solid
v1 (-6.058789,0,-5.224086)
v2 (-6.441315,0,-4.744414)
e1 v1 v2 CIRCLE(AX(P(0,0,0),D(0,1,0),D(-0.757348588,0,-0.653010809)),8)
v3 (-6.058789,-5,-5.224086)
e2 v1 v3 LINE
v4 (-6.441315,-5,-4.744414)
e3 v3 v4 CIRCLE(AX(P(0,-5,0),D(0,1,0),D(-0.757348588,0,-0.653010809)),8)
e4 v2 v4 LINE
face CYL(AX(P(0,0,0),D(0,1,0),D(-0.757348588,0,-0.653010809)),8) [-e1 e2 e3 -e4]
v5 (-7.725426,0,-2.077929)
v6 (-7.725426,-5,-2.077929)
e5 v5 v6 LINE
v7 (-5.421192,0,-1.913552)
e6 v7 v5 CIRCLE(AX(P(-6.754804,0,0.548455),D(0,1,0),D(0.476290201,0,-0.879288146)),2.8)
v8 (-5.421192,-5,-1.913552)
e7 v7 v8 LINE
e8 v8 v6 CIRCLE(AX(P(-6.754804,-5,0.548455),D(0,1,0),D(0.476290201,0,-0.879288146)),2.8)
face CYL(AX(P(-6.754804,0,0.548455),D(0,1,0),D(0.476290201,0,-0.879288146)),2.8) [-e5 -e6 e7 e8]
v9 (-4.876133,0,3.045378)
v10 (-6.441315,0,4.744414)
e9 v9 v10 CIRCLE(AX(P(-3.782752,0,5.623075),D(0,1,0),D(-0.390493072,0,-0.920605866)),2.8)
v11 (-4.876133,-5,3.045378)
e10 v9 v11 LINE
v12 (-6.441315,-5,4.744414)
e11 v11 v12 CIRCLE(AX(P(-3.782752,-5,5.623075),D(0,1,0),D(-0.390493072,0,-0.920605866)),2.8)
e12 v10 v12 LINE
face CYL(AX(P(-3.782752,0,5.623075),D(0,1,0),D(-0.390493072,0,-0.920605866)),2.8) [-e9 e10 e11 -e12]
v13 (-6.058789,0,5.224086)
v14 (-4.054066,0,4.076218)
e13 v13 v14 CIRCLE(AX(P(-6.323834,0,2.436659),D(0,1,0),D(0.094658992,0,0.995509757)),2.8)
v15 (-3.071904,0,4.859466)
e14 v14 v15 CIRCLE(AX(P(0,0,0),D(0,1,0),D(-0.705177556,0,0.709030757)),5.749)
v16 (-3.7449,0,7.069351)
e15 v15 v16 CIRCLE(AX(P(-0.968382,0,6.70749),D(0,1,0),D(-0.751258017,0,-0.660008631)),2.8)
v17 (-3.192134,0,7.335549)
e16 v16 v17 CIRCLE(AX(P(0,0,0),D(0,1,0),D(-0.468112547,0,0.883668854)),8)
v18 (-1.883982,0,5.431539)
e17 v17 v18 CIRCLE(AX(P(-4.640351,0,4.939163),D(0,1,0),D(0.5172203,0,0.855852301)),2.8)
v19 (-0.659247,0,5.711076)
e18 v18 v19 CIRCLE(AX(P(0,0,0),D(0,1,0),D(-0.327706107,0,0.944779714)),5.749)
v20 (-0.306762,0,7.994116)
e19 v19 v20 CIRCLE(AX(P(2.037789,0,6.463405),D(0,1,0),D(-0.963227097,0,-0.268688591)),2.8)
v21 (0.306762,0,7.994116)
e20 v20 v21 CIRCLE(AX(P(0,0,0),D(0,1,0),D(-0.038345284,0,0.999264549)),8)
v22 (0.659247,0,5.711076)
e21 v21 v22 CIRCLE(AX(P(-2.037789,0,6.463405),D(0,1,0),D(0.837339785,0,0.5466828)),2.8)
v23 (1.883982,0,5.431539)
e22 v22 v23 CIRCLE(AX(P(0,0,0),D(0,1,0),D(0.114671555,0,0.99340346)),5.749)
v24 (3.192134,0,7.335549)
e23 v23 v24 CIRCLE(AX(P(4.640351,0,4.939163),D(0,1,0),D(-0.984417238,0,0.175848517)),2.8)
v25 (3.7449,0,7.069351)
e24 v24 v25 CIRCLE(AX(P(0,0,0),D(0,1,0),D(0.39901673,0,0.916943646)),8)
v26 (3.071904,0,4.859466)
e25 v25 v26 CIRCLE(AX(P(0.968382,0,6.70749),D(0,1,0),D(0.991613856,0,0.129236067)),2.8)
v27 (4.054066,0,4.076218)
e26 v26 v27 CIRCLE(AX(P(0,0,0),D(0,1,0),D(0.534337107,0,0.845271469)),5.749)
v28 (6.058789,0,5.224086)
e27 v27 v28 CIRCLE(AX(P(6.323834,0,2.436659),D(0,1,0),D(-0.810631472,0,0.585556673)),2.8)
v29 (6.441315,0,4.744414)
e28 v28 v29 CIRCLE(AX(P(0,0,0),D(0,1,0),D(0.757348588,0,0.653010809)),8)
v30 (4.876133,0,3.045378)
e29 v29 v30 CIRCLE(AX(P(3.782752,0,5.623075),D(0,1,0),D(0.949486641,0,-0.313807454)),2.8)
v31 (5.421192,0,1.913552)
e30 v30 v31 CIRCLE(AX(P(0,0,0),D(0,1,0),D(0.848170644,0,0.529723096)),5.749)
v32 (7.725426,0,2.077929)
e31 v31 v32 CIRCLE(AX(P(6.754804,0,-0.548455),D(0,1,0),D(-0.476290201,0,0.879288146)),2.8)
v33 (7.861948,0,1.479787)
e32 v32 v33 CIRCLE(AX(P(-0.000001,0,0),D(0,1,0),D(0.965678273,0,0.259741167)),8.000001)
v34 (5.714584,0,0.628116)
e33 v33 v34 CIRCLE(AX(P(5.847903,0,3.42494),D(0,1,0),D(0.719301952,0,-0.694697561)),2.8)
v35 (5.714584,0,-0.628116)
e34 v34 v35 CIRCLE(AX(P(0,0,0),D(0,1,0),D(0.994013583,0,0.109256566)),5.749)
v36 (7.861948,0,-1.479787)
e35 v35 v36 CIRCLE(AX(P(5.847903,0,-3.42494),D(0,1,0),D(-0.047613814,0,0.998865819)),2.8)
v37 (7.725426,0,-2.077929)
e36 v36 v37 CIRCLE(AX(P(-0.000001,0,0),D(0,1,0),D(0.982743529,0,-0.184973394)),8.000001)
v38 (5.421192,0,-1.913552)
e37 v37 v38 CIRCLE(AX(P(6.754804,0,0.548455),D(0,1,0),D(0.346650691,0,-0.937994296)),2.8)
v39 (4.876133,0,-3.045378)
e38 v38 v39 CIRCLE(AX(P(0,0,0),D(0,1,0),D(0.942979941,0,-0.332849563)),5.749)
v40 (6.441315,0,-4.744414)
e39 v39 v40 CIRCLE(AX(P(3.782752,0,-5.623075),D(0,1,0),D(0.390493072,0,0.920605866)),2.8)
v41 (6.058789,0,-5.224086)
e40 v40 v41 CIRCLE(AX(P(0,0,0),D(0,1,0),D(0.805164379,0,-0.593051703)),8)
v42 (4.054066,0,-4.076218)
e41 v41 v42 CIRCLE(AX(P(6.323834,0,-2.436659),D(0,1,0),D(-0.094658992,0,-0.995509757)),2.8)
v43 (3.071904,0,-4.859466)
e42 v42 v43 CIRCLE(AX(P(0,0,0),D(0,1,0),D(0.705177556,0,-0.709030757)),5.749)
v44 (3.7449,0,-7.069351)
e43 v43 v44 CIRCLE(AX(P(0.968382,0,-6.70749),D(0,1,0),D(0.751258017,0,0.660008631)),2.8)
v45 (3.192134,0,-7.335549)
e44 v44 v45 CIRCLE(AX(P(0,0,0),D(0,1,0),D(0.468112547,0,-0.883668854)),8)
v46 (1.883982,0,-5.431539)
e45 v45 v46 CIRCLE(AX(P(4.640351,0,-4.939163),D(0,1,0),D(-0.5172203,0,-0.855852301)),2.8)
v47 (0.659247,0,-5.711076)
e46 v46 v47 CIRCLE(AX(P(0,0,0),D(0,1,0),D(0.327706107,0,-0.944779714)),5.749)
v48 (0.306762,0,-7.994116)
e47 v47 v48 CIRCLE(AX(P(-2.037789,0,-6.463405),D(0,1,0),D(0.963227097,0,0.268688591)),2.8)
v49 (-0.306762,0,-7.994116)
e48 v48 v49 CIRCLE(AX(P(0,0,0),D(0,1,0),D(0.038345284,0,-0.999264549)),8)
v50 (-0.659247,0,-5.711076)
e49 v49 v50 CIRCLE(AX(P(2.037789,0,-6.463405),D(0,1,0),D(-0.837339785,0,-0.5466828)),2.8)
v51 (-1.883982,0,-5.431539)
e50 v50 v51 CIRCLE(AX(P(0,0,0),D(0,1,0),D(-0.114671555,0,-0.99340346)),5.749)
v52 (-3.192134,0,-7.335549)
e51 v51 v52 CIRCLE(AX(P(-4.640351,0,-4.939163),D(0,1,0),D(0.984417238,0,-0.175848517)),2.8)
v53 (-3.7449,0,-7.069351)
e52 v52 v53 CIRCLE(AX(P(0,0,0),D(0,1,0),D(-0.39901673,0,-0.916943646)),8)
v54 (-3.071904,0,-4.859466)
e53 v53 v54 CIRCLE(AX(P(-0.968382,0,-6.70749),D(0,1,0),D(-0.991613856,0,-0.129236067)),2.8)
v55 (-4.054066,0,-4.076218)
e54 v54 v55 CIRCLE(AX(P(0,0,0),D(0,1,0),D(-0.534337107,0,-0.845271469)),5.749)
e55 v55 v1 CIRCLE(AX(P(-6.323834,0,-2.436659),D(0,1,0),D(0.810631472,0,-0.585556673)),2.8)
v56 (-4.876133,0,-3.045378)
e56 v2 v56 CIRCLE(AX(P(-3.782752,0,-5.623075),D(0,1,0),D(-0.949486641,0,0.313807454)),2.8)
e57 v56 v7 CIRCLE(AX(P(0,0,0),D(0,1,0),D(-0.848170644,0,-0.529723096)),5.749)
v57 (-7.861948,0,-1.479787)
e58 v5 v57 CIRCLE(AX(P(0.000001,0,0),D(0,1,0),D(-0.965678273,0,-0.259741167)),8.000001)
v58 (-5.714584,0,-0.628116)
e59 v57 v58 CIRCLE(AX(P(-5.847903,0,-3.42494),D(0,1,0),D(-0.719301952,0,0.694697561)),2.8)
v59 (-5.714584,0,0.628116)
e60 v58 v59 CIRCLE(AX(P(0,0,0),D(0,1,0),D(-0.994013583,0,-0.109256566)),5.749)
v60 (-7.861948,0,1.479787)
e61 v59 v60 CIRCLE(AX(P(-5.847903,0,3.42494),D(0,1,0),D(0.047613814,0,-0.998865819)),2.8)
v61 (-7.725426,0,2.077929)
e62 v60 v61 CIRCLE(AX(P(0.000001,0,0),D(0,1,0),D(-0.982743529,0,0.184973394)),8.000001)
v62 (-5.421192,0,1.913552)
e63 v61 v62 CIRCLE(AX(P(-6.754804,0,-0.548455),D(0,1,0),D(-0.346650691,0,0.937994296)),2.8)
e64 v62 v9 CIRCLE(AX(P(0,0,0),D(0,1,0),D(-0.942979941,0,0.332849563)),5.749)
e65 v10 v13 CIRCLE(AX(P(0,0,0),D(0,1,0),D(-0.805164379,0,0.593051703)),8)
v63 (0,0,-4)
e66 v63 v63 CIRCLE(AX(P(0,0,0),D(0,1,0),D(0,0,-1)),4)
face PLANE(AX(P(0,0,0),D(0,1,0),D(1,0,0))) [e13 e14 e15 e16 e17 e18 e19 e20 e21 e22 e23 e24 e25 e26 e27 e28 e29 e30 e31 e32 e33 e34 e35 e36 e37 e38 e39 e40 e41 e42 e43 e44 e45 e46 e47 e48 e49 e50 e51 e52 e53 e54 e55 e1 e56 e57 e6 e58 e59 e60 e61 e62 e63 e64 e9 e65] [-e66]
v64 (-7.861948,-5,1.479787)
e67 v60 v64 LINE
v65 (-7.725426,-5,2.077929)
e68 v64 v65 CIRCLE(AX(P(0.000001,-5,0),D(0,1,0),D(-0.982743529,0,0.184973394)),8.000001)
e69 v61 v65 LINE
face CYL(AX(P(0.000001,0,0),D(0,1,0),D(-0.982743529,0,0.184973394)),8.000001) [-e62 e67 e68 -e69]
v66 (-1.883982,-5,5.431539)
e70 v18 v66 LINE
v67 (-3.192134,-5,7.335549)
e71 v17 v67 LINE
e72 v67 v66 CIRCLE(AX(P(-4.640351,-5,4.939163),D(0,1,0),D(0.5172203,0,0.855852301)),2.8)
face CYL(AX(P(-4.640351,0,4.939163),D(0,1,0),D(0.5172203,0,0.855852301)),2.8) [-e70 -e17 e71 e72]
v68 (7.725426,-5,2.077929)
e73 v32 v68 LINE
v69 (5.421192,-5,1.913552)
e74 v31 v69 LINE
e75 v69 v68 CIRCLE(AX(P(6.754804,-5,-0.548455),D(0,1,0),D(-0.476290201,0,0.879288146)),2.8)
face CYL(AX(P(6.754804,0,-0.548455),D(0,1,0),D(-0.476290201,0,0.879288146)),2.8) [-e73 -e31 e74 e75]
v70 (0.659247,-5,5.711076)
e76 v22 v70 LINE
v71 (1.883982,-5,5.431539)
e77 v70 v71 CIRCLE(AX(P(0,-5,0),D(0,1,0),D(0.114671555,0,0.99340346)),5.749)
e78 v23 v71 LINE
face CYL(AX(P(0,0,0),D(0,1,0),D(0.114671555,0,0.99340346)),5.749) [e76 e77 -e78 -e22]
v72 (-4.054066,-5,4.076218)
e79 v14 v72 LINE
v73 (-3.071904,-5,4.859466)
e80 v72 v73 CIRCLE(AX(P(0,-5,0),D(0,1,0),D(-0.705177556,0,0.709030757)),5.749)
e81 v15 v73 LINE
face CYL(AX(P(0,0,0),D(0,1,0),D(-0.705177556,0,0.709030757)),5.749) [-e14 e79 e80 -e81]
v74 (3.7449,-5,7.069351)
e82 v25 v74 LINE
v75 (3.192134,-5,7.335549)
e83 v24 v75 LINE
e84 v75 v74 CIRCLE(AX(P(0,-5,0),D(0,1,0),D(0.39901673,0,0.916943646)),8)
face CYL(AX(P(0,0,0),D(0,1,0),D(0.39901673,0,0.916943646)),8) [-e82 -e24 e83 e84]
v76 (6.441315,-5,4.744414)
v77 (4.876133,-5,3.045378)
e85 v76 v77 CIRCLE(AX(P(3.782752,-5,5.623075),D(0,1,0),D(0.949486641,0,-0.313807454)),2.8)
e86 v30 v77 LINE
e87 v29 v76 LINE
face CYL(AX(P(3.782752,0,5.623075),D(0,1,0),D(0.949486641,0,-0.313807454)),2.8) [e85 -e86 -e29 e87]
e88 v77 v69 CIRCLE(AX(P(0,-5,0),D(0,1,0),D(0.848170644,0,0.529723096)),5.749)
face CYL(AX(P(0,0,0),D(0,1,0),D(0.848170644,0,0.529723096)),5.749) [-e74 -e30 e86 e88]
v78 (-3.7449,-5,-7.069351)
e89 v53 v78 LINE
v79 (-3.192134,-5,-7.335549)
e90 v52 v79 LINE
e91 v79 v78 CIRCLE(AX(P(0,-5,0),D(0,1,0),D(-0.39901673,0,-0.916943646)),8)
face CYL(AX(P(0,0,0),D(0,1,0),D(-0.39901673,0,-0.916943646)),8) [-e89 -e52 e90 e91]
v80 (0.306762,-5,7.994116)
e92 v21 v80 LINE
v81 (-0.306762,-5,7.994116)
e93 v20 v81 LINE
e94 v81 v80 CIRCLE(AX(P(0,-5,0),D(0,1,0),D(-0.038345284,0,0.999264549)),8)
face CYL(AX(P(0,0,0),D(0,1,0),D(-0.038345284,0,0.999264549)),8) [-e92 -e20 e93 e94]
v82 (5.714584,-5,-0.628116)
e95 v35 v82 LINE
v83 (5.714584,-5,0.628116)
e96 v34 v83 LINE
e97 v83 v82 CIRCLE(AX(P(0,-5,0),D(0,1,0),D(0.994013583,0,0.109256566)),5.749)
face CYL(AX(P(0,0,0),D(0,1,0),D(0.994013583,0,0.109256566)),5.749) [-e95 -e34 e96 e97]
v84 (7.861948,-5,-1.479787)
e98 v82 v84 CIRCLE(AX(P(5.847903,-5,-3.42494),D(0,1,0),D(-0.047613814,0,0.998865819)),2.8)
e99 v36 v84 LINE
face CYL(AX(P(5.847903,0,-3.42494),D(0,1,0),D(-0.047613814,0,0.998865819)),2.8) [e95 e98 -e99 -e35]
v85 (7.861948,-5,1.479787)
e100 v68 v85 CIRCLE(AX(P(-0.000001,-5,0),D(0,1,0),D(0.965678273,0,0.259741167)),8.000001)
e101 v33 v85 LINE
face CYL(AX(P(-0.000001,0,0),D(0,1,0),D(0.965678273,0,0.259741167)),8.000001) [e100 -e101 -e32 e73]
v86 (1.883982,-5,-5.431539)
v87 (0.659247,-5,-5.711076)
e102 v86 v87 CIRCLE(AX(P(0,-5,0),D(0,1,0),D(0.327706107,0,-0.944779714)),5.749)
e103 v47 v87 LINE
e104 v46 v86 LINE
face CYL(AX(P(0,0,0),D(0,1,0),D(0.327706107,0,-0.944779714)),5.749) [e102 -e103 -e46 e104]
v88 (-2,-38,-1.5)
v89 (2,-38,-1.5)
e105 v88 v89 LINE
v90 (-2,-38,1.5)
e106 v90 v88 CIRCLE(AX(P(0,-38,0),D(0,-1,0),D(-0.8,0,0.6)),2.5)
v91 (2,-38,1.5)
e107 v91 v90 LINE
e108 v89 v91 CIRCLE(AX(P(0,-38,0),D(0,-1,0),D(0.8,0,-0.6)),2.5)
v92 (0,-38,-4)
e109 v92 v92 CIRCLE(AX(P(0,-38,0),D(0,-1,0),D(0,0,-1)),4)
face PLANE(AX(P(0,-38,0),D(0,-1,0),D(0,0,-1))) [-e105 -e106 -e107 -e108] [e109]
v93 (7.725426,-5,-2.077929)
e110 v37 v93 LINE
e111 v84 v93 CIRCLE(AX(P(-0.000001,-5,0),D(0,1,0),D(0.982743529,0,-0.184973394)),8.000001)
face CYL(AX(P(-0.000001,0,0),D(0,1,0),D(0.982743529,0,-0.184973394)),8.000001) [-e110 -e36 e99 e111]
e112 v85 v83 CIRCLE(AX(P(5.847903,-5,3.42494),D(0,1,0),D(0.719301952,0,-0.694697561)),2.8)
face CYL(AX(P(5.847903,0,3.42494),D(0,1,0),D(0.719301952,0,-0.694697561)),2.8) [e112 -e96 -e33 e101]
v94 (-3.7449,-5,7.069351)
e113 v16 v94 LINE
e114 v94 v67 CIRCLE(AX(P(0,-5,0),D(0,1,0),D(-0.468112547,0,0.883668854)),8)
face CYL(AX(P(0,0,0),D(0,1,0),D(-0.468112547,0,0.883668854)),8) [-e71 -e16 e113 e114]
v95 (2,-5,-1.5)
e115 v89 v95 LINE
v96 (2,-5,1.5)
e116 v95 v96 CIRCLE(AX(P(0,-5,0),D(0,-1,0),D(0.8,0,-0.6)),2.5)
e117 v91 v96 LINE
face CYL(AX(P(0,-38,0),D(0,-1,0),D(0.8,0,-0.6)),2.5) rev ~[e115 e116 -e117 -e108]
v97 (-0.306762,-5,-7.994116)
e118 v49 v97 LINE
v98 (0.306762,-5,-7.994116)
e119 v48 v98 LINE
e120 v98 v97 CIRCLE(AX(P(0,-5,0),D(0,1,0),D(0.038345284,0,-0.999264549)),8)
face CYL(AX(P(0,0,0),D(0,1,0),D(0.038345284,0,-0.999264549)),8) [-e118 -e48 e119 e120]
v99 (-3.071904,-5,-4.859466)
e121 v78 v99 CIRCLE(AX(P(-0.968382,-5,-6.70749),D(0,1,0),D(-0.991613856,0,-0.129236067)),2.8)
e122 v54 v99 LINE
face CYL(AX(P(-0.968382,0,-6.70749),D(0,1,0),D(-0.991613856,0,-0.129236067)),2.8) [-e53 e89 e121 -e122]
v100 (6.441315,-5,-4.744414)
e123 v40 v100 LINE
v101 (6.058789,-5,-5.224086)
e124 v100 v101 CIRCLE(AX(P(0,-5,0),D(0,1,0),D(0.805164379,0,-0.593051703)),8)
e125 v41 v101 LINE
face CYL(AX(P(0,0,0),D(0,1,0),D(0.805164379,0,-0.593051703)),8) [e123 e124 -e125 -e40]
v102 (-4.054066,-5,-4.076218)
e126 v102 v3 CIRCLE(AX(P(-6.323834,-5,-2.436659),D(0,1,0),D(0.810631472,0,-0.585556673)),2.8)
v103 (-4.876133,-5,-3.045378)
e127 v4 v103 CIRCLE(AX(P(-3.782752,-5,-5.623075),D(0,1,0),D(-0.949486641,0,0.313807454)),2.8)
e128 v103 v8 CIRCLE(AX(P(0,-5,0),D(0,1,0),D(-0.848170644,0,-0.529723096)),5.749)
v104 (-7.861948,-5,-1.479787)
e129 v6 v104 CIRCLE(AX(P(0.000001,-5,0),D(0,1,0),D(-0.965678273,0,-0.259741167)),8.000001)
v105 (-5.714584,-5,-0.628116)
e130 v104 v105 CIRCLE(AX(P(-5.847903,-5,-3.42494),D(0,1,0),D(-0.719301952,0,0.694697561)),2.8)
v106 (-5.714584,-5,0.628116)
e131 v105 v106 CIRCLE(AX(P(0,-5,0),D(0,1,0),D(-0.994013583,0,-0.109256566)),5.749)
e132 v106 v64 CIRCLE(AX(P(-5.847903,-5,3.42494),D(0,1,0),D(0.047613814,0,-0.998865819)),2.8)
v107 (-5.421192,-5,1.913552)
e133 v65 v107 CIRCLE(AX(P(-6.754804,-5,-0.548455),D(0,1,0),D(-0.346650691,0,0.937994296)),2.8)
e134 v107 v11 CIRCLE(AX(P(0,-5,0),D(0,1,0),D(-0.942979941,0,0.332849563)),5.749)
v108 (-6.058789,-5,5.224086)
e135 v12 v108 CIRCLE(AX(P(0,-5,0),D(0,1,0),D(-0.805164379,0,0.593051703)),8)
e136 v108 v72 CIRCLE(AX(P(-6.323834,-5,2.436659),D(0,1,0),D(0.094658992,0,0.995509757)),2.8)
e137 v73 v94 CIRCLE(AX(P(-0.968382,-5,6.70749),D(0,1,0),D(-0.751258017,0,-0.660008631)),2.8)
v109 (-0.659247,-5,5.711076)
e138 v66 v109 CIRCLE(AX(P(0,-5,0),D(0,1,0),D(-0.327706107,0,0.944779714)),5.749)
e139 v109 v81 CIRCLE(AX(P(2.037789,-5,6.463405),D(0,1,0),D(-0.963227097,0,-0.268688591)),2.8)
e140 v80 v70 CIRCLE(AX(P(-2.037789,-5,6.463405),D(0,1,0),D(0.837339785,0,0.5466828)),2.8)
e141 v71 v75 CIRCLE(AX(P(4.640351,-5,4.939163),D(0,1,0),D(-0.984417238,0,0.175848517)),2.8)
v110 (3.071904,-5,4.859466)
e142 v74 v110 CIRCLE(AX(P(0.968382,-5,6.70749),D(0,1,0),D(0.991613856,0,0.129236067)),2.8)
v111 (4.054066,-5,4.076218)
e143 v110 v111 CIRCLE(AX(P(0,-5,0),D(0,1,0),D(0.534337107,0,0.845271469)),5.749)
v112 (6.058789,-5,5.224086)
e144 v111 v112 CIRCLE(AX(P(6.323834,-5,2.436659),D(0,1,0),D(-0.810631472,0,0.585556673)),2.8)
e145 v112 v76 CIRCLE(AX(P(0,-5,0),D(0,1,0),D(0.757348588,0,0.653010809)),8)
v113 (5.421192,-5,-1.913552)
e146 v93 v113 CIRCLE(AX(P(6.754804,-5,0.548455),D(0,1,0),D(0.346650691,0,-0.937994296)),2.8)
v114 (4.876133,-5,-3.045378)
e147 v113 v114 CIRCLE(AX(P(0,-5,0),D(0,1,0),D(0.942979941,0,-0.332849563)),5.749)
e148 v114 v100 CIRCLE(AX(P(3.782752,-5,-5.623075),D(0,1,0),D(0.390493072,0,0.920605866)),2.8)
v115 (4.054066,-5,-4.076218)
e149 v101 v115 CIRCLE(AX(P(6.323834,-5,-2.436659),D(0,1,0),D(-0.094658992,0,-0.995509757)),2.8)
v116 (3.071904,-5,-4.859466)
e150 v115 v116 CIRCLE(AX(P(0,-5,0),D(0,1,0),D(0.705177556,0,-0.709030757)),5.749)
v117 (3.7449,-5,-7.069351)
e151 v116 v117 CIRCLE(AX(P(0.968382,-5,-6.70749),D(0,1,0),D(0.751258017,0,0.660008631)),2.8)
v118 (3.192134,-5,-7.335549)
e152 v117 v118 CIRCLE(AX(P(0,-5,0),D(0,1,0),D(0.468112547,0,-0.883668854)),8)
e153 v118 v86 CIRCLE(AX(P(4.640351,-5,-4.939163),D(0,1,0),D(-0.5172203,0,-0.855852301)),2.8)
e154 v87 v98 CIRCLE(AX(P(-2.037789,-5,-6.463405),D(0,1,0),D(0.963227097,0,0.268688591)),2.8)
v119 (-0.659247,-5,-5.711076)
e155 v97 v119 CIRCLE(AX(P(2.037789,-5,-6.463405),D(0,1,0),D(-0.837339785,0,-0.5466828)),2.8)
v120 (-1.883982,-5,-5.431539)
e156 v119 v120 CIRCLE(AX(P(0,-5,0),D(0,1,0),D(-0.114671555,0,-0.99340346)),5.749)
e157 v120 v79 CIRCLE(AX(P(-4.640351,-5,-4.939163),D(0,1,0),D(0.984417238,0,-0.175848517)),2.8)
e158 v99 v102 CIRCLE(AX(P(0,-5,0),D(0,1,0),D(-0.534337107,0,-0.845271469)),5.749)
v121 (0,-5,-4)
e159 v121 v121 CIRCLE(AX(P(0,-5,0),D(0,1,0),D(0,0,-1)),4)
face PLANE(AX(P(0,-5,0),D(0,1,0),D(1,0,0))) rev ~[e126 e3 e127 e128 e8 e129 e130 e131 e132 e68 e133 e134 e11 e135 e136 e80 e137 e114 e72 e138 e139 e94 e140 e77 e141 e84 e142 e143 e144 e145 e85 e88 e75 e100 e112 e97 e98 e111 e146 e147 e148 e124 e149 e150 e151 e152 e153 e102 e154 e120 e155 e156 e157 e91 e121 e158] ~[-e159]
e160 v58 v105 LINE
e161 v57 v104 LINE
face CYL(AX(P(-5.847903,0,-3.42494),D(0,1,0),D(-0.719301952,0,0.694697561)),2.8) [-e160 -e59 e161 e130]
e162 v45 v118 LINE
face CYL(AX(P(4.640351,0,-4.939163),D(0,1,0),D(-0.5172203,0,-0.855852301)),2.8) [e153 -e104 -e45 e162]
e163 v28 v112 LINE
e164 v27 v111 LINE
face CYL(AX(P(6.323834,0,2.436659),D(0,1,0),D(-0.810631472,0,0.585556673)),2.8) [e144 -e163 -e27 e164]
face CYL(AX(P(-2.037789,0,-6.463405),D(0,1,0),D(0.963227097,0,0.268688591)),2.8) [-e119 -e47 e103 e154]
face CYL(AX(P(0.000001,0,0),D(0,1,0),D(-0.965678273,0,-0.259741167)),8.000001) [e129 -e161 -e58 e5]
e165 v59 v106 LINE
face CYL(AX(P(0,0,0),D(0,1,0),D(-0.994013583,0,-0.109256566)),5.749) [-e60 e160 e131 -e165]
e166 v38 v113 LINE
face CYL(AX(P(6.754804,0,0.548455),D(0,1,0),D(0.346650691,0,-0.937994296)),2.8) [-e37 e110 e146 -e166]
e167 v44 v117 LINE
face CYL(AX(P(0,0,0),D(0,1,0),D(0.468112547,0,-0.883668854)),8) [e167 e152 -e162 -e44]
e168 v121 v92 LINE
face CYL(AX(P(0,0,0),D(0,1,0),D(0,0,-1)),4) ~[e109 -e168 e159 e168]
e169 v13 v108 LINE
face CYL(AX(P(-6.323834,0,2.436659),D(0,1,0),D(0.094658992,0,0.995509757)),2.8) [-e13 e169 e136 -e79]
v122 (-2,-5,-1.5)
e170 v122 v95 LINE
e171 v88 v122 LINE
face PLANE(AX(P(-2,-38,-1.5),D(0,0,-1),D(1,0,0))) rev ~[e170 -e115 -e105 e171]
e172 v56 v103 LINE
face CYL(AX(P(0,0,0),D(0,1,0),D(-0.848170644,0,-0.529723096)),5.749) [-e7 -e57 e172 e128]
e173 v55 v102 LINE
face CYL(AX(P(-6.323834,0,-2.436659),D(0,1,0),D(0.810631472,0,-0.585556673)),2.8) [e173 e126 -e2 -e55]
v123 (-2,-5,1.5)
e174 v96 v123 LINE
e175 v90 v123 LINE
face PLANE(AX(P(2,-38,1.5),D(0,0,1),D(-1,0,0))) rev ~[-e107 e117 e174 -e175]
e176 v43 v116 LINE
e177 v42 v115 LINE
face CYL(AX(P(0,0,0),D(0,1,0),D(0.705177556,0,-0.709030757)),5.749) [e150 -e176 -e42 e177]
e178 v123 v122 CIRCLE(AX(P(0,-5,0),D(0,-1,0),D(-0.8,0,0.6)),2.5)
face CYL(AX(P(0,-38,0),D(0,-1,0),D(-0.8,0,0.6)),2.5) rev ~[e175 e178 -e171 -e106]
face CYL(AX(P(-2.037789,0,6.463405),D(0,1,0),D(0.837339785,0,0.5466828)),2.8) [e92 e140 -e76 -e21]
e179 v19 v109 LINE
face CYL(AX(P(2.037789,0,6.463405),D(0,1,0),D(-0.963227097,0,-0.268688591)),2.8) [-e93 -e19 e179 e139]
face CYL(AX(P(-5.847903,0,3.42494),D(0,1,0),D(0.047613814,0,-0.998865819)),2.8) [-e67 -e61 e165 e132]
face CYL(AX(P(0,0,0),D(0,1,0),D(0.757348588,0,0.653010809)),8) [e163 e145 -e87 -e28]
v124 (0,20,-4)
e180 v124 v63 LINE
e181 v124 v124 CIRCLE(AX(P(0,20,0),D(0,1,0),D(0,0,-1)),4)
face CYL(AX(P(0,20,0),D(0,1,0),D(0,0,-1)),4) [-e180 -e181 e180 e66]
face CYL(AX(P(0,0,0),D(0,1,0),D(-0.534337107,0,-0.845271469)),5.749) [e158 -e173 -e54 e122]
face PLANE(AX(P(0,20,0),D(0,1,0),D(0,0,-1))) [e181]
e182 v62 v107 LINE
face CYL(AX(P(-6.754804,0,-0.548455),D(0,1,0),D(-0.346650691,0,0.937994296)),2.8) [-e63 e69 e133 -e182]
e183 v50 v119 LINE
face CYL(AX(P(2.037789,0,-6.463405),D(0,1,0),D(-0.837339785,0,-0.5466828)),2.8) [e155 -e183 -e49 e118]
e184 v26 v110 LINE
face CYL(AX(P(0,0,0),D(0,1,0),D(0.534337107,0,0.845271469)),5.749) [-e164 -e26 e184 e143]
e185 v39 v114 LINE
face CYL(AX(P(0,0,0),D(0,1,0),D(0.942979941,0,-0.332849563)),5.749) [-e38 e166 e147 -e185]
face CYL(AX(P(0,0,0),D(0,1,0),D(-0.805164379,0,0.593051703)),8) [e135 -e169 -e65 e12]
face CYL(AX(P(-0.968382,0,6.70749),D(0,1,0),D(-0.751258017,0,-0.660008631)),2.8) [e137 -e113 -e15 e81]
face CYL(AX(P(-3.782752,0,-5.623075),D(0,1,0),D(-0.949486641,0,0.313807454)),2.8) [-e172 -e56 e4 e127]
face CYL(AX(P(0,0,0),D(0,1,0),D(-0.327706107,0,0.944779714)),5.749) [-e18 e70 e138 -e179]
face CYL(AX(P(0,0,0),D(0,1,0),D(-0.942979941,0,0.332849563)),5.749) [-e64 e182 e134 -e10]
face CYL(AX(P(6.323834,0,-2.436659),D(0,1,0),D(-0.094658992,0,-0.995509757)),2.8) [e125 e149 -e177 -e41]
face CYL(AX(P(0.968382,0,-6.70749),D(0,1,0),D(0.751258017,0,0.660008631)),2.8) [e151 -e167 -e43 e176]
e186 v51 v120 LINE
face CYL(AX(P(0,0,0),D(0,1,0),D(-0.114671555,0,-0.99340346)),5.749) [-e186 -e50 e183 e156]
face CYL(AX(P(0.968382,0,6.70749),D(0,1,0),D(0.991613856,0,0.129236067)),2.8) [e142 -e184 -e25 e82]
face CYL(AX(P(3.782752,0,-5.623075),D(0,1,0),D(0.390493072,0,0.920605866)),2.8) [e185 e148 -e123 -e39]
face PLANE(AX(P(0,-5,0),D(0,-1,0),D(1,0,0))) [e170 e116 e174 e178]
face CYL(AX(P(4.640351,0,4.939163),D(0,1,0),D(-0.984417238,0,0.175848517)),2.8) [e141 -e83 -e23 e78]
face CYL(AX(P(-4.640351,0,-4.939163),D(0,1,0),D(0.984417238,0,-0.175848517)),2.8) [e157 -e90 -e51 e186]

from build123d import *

# Parameters (mm, degrees)
SKETCH1_R                = 0.4
BOSS_EXTRUDE1_DEPTH      = 5
BOSS_EXTRUDE2_DEPTH      = 33
BOSS_EXTRUDE2_DEPTH_BACK = 5
SKETCH2_R                = 4
BOSS_EXTRUDE3_START      = 20
SKETCH3_R                = 4
BOSS_EXTRUDE3_DEPTH      = 20
CUT_EXTRUDE1_DEPTH       = 33


with BuildPart() as part:
    # Sketch1 → Boss-Extrude1 (new body)
    with BuildSketch(Plane(origin=(0, 0, 0), x_dir=(1, 0, 0), z_dir=(0, 1, 0))):
        with BuildLine():
            ThreePointArc((3.744900382, -7.069350828), (3.64692573, -5.891768521), (3.071904032, -4.859465672))
            ThreePointArc((3.071904032, -4.859465672), (3.584442871, -4.494749193), (4.054065768, -4.076217824))
            ThreePointArc((4.054065768, -4.076217824), (4.932532263, -4.866531521), (6.058788713, -5.224086459))
            ThreePointArc((6.058788713, -5.224086459), (6.25465186, -4.987918415), (6.441315028, -4.744413632))
            ThreePointArc((6.441315028, -4.744413632), (5.842109102, -3.725958242), (4.876133034, -3.045378078))
            ThreePointArc((4.876133034, -3.045378078), (5.179670022, -2.494397616), (5.421191676, -1.913552144))
            ThreePointArc((5.421191676, -1.913552144), (6.555566902, -2.244447854), (7.725426174, -2.077929362))
            ThreePointArc((7.725426174, -2.077929362), (7.799423297, -1.780167472), (7.861948235, -1.47978713))
            ThreePointArc((7.861948235, -1.47978713), (6.880191117, -0.822176238), (5.714584087, -0.628116006))
            ThreePointArc((5.714584087, -0.628116006), (5.749, 0), (5.714584087, 0.628116006))
            ThreePointArc((5.714584087, 0.628116006), (6.880191117, 0.822176238), (7.861948235, 1.47978713))
            ThreePointArc((7.861948235, 1.47978713), (7.799423297, 1.780167472), (7.725426174, 2.077929362))
            ThreePointArc((7.725426174, 2.077929362), (6.555566902, 2.244447854), (5.421191676, 1.913552144))
            ThreePointArc((5.421191676, 1.913552144), (5.179670022, 2.494397616), (4.876133034, 3.045378078))
            ThreePointArc((4.876133034, 3.045378078), (5.842109102, 3.725958242), (6.441315028, 4.744413632))
            ThreePointArc((6.441315028, 4.744413632), (6.25465186, 4.987918415), (6.058788713, 5.224086459))
            ThreePointArc((6.058788713, 5.224086459), (4.932532263, 4.866531521), (4.054065768, 4.076217824))
            ThreePointArc((4.054065768, 4.076217824), (3.584442871, 4.494749193), (3.071904032, 4.859465672))
            ThreePointArc((3.071904032, 4.859465672), (3.64692573, 5.891768521), (3.744900382, 7.069350828))
            ThreePointArc((3.744900382, 7.069350828), (3.471069913, 7.207750943), (3.192133841, 7.335549164))
            ThreePointArc((3.192133841, 7.335549164), (2.332549116, 6.524738937), (1.883982415, 5.431538572))
            ThreePointArc((1.883982415, 5.431538572), (1.279272849, 5.604860567), (0.659246762, 5.711076493))
            ThreePointArc((0.659246762, 5.711076493), (0.72942399, 6.890641786), (0.306762287, 7.994116393))
            ThreePointArc((0.306762287, 7.994116393), (0, 8), (-0.306762287, 7.994116393))
            ThreePointArc((-0.306762287, 7.994116393), (-0.72942399, 6.890641786), (-0.659246762, 5.711076493))
            ThreePointArc((-0.659246762, 5.711076493), (-1.279272849, 5.604860567), (-1.883982415, 5.431538572))
            ThreePointArc((-1.883982415, 5.431538572), (-2.332549116, 6.524738937), (-3.192133841, 7.335549164))
            ThreePointArc((-3.192133841, 7.335549164), (-3.471069913, 7.207750943), (-3.744900382, 7.069350828))
            ThreePointArc((-3.744900382, 7.069350828), (-3.64692573, 5.891768521), (-3.071904032, 4.859465672))
            ThreePointArc((-3.071904032, 4.859465672), (-3.584442871, 4.494749193), (-4.054065768, 4.076217824))
            ThreePointArc((-4.054065768, 4.076217824), (-4.932532263, 4.866531521), (-6.058788713, 5.224086459))
            ThreePointArc((-6.058788713, 5.224086459), (-6.25465186, 4.987918415), (-6.441315028, 4.744413632))
            ThreePointArc((-6.441315028, 4.744413632), (-5.842109102, 3.725958242), (-4.876133034, 3.045378078))
            ThreePointArc((-4.876133034, 3.045378078), (-5.179670022, 2.494397616), (-5.421191676, 1.913552144))
            ThreePointArc((-5.421191676, 1.913552144), (-6.555566902, 2.244447854), (-7.725426174, 2.077929362))
            ThreePointArc((-7.725426174, 2.077929362), (-7.799423297, 1.780167472), (-7.861948235, 1.47978713))
            ThreePointArc((-7.861948235, 1.47978713), (-6.880191117, 0.822176238), (-5.714584087, 0.628116006))
            ThreePointArc((-5.714584087, 0.628116006), (-5.749, 0), (-5.714584087, -0.628116006))
            ThreePointArc((-5.714584087, -0.628116006), (-6.880191117, -0.822176238), (-7.861948235, -1.47978713))
            ThreePointArc((-7.861948235, -1.47978713), (-7.799423297, -1.780167472), (-7.725426174, -2.077929362))
            ThreePointArc((-7.725426174, -2.077929362), (-6.555566902, -2.244447854), (-5.421191676, -1.913552144))
            ThreePointArc((-5.421191676, -1.913552144), (-5.179670022, -2.494397616), (-4.876133034, -3.045378078))
            ThreePointArc((-4.876133034, -3.045378078), (-5.842109102, -3.725958242), (-6.441315028, -4.744413632))
            ThreePointArc((-6.441315028, -4.744413632), (-6.25465186, -4.987918415), (-6.058788713, -5.224086459))
            ThreePointArc((-6.058788713, -5.224086459), (-4.932532263, -4.866531521), (-4.054065768, -4.076217824))
            ThreePointArc((-4.054065768, -4.076217824), (-3.584442871, -4.494749193), (-3.071904032, -4.859465672))
            ThreePointArc((-3.071904032, -4.859465672), (-3.64692573, -5.891768521), (-3.744900382, -7.069350828))
            ThreePointArc((-3.744900382, -7.069350828), (-3.471069913, -7.207750943), (-3.192133841, -7.335549164))
            ThreePointArc((-3.192133841, -7.335549164), (-2.332549116, -6.524738937), (-1.883982415, -5.431538572))
            ThreePointArc((-1.883982415, -5.431538572), (-1.279272849, -5.604860567), (-0.659246762, -5.711076493))
            ThreePointArc((-0.659246762, -5.711076493), (-0.72942399, -6.890641786), (-0.306762287, -7.994116393))
            ThreePointArc((-0.306762287, -7.994116393), (0, -8), (0.306762287, -7.994116393))
            ThreePointArc((0.306762287, -7.994116393), (0.72942399, -6.890641786), (0.659246762, -5.711076493))
            ThreePointArc((0.659246762, -5.711076493), (1.279272849, -5.604860567), (1.883982415, -5.431538572))
            ThreePointArc((1.883982415, -5.431538572), (2.332549116, -6.524738937), (3.192133841, -7.335549164))
            ThreePointArc((3.192133841, -7.335549164), (3.471069913, -7.207750943), (3.744900382, -7.069350828))
        make_face()
        with Locations(Location((0, 0, 0), (0, 0, 90))):
            Circle(SKETCH1_R, mode=Mode.SUBTRACT)
    extrude(amount=-BOSS_EXTRUDE1_DEPTH)

    # Sketch2 → Boss-Extrude2 (add, two sides: drawn at the far end of the back side and taken through both)
    with BuildSketch(Plane.XZ.offset(5).offset(-BOSS_EXTRUDE2_DEPTH_BACK)):
        with Locations(Location((0, 0, 0), (0, 0, 270))):
            Circle(SKETCH2_R)
    extrude(amount=BOSS_EXTRUDE2_DEPTH + BOSS_EXTRUDE2_DEPTH_BACK)

    # Sketch3 → Boss-Extrude3 (add)
    with BuildSketch(Plane(origin=(0, 0, 0), x_dir=(1, 0, 0), z_dir=(0, 1, 0)).offset(BOSS_EXTRUDE3_START)):
        with Locations(Location((0, 0, 0), (0, 0, 90))):
            Circle(SKETCH3_R)
    extrude(amount=-BOSS_EXTRUDE3_DEPTH)

    # Sketch4 → Cut-Extrude1 (cut)
    with BuildSketch(Plane.XZ.offset(38)):
        with BuildLine():
            Line((-2, -1.5), (2, -1.5))
            ThreePointArc((2, -1.5), (2.5, 0), (2, 1.5))
            Line((2, 1.5), (-2, 1.5))
            ThreePointArc((-2, 1.5), (-2.5, 0), (-2, -1.5))
        make_face()
    extrude(amount=-CUT_EXTRUDE1_DEPTH, mode=Mode.SUBTRACT)


solid = part.part
